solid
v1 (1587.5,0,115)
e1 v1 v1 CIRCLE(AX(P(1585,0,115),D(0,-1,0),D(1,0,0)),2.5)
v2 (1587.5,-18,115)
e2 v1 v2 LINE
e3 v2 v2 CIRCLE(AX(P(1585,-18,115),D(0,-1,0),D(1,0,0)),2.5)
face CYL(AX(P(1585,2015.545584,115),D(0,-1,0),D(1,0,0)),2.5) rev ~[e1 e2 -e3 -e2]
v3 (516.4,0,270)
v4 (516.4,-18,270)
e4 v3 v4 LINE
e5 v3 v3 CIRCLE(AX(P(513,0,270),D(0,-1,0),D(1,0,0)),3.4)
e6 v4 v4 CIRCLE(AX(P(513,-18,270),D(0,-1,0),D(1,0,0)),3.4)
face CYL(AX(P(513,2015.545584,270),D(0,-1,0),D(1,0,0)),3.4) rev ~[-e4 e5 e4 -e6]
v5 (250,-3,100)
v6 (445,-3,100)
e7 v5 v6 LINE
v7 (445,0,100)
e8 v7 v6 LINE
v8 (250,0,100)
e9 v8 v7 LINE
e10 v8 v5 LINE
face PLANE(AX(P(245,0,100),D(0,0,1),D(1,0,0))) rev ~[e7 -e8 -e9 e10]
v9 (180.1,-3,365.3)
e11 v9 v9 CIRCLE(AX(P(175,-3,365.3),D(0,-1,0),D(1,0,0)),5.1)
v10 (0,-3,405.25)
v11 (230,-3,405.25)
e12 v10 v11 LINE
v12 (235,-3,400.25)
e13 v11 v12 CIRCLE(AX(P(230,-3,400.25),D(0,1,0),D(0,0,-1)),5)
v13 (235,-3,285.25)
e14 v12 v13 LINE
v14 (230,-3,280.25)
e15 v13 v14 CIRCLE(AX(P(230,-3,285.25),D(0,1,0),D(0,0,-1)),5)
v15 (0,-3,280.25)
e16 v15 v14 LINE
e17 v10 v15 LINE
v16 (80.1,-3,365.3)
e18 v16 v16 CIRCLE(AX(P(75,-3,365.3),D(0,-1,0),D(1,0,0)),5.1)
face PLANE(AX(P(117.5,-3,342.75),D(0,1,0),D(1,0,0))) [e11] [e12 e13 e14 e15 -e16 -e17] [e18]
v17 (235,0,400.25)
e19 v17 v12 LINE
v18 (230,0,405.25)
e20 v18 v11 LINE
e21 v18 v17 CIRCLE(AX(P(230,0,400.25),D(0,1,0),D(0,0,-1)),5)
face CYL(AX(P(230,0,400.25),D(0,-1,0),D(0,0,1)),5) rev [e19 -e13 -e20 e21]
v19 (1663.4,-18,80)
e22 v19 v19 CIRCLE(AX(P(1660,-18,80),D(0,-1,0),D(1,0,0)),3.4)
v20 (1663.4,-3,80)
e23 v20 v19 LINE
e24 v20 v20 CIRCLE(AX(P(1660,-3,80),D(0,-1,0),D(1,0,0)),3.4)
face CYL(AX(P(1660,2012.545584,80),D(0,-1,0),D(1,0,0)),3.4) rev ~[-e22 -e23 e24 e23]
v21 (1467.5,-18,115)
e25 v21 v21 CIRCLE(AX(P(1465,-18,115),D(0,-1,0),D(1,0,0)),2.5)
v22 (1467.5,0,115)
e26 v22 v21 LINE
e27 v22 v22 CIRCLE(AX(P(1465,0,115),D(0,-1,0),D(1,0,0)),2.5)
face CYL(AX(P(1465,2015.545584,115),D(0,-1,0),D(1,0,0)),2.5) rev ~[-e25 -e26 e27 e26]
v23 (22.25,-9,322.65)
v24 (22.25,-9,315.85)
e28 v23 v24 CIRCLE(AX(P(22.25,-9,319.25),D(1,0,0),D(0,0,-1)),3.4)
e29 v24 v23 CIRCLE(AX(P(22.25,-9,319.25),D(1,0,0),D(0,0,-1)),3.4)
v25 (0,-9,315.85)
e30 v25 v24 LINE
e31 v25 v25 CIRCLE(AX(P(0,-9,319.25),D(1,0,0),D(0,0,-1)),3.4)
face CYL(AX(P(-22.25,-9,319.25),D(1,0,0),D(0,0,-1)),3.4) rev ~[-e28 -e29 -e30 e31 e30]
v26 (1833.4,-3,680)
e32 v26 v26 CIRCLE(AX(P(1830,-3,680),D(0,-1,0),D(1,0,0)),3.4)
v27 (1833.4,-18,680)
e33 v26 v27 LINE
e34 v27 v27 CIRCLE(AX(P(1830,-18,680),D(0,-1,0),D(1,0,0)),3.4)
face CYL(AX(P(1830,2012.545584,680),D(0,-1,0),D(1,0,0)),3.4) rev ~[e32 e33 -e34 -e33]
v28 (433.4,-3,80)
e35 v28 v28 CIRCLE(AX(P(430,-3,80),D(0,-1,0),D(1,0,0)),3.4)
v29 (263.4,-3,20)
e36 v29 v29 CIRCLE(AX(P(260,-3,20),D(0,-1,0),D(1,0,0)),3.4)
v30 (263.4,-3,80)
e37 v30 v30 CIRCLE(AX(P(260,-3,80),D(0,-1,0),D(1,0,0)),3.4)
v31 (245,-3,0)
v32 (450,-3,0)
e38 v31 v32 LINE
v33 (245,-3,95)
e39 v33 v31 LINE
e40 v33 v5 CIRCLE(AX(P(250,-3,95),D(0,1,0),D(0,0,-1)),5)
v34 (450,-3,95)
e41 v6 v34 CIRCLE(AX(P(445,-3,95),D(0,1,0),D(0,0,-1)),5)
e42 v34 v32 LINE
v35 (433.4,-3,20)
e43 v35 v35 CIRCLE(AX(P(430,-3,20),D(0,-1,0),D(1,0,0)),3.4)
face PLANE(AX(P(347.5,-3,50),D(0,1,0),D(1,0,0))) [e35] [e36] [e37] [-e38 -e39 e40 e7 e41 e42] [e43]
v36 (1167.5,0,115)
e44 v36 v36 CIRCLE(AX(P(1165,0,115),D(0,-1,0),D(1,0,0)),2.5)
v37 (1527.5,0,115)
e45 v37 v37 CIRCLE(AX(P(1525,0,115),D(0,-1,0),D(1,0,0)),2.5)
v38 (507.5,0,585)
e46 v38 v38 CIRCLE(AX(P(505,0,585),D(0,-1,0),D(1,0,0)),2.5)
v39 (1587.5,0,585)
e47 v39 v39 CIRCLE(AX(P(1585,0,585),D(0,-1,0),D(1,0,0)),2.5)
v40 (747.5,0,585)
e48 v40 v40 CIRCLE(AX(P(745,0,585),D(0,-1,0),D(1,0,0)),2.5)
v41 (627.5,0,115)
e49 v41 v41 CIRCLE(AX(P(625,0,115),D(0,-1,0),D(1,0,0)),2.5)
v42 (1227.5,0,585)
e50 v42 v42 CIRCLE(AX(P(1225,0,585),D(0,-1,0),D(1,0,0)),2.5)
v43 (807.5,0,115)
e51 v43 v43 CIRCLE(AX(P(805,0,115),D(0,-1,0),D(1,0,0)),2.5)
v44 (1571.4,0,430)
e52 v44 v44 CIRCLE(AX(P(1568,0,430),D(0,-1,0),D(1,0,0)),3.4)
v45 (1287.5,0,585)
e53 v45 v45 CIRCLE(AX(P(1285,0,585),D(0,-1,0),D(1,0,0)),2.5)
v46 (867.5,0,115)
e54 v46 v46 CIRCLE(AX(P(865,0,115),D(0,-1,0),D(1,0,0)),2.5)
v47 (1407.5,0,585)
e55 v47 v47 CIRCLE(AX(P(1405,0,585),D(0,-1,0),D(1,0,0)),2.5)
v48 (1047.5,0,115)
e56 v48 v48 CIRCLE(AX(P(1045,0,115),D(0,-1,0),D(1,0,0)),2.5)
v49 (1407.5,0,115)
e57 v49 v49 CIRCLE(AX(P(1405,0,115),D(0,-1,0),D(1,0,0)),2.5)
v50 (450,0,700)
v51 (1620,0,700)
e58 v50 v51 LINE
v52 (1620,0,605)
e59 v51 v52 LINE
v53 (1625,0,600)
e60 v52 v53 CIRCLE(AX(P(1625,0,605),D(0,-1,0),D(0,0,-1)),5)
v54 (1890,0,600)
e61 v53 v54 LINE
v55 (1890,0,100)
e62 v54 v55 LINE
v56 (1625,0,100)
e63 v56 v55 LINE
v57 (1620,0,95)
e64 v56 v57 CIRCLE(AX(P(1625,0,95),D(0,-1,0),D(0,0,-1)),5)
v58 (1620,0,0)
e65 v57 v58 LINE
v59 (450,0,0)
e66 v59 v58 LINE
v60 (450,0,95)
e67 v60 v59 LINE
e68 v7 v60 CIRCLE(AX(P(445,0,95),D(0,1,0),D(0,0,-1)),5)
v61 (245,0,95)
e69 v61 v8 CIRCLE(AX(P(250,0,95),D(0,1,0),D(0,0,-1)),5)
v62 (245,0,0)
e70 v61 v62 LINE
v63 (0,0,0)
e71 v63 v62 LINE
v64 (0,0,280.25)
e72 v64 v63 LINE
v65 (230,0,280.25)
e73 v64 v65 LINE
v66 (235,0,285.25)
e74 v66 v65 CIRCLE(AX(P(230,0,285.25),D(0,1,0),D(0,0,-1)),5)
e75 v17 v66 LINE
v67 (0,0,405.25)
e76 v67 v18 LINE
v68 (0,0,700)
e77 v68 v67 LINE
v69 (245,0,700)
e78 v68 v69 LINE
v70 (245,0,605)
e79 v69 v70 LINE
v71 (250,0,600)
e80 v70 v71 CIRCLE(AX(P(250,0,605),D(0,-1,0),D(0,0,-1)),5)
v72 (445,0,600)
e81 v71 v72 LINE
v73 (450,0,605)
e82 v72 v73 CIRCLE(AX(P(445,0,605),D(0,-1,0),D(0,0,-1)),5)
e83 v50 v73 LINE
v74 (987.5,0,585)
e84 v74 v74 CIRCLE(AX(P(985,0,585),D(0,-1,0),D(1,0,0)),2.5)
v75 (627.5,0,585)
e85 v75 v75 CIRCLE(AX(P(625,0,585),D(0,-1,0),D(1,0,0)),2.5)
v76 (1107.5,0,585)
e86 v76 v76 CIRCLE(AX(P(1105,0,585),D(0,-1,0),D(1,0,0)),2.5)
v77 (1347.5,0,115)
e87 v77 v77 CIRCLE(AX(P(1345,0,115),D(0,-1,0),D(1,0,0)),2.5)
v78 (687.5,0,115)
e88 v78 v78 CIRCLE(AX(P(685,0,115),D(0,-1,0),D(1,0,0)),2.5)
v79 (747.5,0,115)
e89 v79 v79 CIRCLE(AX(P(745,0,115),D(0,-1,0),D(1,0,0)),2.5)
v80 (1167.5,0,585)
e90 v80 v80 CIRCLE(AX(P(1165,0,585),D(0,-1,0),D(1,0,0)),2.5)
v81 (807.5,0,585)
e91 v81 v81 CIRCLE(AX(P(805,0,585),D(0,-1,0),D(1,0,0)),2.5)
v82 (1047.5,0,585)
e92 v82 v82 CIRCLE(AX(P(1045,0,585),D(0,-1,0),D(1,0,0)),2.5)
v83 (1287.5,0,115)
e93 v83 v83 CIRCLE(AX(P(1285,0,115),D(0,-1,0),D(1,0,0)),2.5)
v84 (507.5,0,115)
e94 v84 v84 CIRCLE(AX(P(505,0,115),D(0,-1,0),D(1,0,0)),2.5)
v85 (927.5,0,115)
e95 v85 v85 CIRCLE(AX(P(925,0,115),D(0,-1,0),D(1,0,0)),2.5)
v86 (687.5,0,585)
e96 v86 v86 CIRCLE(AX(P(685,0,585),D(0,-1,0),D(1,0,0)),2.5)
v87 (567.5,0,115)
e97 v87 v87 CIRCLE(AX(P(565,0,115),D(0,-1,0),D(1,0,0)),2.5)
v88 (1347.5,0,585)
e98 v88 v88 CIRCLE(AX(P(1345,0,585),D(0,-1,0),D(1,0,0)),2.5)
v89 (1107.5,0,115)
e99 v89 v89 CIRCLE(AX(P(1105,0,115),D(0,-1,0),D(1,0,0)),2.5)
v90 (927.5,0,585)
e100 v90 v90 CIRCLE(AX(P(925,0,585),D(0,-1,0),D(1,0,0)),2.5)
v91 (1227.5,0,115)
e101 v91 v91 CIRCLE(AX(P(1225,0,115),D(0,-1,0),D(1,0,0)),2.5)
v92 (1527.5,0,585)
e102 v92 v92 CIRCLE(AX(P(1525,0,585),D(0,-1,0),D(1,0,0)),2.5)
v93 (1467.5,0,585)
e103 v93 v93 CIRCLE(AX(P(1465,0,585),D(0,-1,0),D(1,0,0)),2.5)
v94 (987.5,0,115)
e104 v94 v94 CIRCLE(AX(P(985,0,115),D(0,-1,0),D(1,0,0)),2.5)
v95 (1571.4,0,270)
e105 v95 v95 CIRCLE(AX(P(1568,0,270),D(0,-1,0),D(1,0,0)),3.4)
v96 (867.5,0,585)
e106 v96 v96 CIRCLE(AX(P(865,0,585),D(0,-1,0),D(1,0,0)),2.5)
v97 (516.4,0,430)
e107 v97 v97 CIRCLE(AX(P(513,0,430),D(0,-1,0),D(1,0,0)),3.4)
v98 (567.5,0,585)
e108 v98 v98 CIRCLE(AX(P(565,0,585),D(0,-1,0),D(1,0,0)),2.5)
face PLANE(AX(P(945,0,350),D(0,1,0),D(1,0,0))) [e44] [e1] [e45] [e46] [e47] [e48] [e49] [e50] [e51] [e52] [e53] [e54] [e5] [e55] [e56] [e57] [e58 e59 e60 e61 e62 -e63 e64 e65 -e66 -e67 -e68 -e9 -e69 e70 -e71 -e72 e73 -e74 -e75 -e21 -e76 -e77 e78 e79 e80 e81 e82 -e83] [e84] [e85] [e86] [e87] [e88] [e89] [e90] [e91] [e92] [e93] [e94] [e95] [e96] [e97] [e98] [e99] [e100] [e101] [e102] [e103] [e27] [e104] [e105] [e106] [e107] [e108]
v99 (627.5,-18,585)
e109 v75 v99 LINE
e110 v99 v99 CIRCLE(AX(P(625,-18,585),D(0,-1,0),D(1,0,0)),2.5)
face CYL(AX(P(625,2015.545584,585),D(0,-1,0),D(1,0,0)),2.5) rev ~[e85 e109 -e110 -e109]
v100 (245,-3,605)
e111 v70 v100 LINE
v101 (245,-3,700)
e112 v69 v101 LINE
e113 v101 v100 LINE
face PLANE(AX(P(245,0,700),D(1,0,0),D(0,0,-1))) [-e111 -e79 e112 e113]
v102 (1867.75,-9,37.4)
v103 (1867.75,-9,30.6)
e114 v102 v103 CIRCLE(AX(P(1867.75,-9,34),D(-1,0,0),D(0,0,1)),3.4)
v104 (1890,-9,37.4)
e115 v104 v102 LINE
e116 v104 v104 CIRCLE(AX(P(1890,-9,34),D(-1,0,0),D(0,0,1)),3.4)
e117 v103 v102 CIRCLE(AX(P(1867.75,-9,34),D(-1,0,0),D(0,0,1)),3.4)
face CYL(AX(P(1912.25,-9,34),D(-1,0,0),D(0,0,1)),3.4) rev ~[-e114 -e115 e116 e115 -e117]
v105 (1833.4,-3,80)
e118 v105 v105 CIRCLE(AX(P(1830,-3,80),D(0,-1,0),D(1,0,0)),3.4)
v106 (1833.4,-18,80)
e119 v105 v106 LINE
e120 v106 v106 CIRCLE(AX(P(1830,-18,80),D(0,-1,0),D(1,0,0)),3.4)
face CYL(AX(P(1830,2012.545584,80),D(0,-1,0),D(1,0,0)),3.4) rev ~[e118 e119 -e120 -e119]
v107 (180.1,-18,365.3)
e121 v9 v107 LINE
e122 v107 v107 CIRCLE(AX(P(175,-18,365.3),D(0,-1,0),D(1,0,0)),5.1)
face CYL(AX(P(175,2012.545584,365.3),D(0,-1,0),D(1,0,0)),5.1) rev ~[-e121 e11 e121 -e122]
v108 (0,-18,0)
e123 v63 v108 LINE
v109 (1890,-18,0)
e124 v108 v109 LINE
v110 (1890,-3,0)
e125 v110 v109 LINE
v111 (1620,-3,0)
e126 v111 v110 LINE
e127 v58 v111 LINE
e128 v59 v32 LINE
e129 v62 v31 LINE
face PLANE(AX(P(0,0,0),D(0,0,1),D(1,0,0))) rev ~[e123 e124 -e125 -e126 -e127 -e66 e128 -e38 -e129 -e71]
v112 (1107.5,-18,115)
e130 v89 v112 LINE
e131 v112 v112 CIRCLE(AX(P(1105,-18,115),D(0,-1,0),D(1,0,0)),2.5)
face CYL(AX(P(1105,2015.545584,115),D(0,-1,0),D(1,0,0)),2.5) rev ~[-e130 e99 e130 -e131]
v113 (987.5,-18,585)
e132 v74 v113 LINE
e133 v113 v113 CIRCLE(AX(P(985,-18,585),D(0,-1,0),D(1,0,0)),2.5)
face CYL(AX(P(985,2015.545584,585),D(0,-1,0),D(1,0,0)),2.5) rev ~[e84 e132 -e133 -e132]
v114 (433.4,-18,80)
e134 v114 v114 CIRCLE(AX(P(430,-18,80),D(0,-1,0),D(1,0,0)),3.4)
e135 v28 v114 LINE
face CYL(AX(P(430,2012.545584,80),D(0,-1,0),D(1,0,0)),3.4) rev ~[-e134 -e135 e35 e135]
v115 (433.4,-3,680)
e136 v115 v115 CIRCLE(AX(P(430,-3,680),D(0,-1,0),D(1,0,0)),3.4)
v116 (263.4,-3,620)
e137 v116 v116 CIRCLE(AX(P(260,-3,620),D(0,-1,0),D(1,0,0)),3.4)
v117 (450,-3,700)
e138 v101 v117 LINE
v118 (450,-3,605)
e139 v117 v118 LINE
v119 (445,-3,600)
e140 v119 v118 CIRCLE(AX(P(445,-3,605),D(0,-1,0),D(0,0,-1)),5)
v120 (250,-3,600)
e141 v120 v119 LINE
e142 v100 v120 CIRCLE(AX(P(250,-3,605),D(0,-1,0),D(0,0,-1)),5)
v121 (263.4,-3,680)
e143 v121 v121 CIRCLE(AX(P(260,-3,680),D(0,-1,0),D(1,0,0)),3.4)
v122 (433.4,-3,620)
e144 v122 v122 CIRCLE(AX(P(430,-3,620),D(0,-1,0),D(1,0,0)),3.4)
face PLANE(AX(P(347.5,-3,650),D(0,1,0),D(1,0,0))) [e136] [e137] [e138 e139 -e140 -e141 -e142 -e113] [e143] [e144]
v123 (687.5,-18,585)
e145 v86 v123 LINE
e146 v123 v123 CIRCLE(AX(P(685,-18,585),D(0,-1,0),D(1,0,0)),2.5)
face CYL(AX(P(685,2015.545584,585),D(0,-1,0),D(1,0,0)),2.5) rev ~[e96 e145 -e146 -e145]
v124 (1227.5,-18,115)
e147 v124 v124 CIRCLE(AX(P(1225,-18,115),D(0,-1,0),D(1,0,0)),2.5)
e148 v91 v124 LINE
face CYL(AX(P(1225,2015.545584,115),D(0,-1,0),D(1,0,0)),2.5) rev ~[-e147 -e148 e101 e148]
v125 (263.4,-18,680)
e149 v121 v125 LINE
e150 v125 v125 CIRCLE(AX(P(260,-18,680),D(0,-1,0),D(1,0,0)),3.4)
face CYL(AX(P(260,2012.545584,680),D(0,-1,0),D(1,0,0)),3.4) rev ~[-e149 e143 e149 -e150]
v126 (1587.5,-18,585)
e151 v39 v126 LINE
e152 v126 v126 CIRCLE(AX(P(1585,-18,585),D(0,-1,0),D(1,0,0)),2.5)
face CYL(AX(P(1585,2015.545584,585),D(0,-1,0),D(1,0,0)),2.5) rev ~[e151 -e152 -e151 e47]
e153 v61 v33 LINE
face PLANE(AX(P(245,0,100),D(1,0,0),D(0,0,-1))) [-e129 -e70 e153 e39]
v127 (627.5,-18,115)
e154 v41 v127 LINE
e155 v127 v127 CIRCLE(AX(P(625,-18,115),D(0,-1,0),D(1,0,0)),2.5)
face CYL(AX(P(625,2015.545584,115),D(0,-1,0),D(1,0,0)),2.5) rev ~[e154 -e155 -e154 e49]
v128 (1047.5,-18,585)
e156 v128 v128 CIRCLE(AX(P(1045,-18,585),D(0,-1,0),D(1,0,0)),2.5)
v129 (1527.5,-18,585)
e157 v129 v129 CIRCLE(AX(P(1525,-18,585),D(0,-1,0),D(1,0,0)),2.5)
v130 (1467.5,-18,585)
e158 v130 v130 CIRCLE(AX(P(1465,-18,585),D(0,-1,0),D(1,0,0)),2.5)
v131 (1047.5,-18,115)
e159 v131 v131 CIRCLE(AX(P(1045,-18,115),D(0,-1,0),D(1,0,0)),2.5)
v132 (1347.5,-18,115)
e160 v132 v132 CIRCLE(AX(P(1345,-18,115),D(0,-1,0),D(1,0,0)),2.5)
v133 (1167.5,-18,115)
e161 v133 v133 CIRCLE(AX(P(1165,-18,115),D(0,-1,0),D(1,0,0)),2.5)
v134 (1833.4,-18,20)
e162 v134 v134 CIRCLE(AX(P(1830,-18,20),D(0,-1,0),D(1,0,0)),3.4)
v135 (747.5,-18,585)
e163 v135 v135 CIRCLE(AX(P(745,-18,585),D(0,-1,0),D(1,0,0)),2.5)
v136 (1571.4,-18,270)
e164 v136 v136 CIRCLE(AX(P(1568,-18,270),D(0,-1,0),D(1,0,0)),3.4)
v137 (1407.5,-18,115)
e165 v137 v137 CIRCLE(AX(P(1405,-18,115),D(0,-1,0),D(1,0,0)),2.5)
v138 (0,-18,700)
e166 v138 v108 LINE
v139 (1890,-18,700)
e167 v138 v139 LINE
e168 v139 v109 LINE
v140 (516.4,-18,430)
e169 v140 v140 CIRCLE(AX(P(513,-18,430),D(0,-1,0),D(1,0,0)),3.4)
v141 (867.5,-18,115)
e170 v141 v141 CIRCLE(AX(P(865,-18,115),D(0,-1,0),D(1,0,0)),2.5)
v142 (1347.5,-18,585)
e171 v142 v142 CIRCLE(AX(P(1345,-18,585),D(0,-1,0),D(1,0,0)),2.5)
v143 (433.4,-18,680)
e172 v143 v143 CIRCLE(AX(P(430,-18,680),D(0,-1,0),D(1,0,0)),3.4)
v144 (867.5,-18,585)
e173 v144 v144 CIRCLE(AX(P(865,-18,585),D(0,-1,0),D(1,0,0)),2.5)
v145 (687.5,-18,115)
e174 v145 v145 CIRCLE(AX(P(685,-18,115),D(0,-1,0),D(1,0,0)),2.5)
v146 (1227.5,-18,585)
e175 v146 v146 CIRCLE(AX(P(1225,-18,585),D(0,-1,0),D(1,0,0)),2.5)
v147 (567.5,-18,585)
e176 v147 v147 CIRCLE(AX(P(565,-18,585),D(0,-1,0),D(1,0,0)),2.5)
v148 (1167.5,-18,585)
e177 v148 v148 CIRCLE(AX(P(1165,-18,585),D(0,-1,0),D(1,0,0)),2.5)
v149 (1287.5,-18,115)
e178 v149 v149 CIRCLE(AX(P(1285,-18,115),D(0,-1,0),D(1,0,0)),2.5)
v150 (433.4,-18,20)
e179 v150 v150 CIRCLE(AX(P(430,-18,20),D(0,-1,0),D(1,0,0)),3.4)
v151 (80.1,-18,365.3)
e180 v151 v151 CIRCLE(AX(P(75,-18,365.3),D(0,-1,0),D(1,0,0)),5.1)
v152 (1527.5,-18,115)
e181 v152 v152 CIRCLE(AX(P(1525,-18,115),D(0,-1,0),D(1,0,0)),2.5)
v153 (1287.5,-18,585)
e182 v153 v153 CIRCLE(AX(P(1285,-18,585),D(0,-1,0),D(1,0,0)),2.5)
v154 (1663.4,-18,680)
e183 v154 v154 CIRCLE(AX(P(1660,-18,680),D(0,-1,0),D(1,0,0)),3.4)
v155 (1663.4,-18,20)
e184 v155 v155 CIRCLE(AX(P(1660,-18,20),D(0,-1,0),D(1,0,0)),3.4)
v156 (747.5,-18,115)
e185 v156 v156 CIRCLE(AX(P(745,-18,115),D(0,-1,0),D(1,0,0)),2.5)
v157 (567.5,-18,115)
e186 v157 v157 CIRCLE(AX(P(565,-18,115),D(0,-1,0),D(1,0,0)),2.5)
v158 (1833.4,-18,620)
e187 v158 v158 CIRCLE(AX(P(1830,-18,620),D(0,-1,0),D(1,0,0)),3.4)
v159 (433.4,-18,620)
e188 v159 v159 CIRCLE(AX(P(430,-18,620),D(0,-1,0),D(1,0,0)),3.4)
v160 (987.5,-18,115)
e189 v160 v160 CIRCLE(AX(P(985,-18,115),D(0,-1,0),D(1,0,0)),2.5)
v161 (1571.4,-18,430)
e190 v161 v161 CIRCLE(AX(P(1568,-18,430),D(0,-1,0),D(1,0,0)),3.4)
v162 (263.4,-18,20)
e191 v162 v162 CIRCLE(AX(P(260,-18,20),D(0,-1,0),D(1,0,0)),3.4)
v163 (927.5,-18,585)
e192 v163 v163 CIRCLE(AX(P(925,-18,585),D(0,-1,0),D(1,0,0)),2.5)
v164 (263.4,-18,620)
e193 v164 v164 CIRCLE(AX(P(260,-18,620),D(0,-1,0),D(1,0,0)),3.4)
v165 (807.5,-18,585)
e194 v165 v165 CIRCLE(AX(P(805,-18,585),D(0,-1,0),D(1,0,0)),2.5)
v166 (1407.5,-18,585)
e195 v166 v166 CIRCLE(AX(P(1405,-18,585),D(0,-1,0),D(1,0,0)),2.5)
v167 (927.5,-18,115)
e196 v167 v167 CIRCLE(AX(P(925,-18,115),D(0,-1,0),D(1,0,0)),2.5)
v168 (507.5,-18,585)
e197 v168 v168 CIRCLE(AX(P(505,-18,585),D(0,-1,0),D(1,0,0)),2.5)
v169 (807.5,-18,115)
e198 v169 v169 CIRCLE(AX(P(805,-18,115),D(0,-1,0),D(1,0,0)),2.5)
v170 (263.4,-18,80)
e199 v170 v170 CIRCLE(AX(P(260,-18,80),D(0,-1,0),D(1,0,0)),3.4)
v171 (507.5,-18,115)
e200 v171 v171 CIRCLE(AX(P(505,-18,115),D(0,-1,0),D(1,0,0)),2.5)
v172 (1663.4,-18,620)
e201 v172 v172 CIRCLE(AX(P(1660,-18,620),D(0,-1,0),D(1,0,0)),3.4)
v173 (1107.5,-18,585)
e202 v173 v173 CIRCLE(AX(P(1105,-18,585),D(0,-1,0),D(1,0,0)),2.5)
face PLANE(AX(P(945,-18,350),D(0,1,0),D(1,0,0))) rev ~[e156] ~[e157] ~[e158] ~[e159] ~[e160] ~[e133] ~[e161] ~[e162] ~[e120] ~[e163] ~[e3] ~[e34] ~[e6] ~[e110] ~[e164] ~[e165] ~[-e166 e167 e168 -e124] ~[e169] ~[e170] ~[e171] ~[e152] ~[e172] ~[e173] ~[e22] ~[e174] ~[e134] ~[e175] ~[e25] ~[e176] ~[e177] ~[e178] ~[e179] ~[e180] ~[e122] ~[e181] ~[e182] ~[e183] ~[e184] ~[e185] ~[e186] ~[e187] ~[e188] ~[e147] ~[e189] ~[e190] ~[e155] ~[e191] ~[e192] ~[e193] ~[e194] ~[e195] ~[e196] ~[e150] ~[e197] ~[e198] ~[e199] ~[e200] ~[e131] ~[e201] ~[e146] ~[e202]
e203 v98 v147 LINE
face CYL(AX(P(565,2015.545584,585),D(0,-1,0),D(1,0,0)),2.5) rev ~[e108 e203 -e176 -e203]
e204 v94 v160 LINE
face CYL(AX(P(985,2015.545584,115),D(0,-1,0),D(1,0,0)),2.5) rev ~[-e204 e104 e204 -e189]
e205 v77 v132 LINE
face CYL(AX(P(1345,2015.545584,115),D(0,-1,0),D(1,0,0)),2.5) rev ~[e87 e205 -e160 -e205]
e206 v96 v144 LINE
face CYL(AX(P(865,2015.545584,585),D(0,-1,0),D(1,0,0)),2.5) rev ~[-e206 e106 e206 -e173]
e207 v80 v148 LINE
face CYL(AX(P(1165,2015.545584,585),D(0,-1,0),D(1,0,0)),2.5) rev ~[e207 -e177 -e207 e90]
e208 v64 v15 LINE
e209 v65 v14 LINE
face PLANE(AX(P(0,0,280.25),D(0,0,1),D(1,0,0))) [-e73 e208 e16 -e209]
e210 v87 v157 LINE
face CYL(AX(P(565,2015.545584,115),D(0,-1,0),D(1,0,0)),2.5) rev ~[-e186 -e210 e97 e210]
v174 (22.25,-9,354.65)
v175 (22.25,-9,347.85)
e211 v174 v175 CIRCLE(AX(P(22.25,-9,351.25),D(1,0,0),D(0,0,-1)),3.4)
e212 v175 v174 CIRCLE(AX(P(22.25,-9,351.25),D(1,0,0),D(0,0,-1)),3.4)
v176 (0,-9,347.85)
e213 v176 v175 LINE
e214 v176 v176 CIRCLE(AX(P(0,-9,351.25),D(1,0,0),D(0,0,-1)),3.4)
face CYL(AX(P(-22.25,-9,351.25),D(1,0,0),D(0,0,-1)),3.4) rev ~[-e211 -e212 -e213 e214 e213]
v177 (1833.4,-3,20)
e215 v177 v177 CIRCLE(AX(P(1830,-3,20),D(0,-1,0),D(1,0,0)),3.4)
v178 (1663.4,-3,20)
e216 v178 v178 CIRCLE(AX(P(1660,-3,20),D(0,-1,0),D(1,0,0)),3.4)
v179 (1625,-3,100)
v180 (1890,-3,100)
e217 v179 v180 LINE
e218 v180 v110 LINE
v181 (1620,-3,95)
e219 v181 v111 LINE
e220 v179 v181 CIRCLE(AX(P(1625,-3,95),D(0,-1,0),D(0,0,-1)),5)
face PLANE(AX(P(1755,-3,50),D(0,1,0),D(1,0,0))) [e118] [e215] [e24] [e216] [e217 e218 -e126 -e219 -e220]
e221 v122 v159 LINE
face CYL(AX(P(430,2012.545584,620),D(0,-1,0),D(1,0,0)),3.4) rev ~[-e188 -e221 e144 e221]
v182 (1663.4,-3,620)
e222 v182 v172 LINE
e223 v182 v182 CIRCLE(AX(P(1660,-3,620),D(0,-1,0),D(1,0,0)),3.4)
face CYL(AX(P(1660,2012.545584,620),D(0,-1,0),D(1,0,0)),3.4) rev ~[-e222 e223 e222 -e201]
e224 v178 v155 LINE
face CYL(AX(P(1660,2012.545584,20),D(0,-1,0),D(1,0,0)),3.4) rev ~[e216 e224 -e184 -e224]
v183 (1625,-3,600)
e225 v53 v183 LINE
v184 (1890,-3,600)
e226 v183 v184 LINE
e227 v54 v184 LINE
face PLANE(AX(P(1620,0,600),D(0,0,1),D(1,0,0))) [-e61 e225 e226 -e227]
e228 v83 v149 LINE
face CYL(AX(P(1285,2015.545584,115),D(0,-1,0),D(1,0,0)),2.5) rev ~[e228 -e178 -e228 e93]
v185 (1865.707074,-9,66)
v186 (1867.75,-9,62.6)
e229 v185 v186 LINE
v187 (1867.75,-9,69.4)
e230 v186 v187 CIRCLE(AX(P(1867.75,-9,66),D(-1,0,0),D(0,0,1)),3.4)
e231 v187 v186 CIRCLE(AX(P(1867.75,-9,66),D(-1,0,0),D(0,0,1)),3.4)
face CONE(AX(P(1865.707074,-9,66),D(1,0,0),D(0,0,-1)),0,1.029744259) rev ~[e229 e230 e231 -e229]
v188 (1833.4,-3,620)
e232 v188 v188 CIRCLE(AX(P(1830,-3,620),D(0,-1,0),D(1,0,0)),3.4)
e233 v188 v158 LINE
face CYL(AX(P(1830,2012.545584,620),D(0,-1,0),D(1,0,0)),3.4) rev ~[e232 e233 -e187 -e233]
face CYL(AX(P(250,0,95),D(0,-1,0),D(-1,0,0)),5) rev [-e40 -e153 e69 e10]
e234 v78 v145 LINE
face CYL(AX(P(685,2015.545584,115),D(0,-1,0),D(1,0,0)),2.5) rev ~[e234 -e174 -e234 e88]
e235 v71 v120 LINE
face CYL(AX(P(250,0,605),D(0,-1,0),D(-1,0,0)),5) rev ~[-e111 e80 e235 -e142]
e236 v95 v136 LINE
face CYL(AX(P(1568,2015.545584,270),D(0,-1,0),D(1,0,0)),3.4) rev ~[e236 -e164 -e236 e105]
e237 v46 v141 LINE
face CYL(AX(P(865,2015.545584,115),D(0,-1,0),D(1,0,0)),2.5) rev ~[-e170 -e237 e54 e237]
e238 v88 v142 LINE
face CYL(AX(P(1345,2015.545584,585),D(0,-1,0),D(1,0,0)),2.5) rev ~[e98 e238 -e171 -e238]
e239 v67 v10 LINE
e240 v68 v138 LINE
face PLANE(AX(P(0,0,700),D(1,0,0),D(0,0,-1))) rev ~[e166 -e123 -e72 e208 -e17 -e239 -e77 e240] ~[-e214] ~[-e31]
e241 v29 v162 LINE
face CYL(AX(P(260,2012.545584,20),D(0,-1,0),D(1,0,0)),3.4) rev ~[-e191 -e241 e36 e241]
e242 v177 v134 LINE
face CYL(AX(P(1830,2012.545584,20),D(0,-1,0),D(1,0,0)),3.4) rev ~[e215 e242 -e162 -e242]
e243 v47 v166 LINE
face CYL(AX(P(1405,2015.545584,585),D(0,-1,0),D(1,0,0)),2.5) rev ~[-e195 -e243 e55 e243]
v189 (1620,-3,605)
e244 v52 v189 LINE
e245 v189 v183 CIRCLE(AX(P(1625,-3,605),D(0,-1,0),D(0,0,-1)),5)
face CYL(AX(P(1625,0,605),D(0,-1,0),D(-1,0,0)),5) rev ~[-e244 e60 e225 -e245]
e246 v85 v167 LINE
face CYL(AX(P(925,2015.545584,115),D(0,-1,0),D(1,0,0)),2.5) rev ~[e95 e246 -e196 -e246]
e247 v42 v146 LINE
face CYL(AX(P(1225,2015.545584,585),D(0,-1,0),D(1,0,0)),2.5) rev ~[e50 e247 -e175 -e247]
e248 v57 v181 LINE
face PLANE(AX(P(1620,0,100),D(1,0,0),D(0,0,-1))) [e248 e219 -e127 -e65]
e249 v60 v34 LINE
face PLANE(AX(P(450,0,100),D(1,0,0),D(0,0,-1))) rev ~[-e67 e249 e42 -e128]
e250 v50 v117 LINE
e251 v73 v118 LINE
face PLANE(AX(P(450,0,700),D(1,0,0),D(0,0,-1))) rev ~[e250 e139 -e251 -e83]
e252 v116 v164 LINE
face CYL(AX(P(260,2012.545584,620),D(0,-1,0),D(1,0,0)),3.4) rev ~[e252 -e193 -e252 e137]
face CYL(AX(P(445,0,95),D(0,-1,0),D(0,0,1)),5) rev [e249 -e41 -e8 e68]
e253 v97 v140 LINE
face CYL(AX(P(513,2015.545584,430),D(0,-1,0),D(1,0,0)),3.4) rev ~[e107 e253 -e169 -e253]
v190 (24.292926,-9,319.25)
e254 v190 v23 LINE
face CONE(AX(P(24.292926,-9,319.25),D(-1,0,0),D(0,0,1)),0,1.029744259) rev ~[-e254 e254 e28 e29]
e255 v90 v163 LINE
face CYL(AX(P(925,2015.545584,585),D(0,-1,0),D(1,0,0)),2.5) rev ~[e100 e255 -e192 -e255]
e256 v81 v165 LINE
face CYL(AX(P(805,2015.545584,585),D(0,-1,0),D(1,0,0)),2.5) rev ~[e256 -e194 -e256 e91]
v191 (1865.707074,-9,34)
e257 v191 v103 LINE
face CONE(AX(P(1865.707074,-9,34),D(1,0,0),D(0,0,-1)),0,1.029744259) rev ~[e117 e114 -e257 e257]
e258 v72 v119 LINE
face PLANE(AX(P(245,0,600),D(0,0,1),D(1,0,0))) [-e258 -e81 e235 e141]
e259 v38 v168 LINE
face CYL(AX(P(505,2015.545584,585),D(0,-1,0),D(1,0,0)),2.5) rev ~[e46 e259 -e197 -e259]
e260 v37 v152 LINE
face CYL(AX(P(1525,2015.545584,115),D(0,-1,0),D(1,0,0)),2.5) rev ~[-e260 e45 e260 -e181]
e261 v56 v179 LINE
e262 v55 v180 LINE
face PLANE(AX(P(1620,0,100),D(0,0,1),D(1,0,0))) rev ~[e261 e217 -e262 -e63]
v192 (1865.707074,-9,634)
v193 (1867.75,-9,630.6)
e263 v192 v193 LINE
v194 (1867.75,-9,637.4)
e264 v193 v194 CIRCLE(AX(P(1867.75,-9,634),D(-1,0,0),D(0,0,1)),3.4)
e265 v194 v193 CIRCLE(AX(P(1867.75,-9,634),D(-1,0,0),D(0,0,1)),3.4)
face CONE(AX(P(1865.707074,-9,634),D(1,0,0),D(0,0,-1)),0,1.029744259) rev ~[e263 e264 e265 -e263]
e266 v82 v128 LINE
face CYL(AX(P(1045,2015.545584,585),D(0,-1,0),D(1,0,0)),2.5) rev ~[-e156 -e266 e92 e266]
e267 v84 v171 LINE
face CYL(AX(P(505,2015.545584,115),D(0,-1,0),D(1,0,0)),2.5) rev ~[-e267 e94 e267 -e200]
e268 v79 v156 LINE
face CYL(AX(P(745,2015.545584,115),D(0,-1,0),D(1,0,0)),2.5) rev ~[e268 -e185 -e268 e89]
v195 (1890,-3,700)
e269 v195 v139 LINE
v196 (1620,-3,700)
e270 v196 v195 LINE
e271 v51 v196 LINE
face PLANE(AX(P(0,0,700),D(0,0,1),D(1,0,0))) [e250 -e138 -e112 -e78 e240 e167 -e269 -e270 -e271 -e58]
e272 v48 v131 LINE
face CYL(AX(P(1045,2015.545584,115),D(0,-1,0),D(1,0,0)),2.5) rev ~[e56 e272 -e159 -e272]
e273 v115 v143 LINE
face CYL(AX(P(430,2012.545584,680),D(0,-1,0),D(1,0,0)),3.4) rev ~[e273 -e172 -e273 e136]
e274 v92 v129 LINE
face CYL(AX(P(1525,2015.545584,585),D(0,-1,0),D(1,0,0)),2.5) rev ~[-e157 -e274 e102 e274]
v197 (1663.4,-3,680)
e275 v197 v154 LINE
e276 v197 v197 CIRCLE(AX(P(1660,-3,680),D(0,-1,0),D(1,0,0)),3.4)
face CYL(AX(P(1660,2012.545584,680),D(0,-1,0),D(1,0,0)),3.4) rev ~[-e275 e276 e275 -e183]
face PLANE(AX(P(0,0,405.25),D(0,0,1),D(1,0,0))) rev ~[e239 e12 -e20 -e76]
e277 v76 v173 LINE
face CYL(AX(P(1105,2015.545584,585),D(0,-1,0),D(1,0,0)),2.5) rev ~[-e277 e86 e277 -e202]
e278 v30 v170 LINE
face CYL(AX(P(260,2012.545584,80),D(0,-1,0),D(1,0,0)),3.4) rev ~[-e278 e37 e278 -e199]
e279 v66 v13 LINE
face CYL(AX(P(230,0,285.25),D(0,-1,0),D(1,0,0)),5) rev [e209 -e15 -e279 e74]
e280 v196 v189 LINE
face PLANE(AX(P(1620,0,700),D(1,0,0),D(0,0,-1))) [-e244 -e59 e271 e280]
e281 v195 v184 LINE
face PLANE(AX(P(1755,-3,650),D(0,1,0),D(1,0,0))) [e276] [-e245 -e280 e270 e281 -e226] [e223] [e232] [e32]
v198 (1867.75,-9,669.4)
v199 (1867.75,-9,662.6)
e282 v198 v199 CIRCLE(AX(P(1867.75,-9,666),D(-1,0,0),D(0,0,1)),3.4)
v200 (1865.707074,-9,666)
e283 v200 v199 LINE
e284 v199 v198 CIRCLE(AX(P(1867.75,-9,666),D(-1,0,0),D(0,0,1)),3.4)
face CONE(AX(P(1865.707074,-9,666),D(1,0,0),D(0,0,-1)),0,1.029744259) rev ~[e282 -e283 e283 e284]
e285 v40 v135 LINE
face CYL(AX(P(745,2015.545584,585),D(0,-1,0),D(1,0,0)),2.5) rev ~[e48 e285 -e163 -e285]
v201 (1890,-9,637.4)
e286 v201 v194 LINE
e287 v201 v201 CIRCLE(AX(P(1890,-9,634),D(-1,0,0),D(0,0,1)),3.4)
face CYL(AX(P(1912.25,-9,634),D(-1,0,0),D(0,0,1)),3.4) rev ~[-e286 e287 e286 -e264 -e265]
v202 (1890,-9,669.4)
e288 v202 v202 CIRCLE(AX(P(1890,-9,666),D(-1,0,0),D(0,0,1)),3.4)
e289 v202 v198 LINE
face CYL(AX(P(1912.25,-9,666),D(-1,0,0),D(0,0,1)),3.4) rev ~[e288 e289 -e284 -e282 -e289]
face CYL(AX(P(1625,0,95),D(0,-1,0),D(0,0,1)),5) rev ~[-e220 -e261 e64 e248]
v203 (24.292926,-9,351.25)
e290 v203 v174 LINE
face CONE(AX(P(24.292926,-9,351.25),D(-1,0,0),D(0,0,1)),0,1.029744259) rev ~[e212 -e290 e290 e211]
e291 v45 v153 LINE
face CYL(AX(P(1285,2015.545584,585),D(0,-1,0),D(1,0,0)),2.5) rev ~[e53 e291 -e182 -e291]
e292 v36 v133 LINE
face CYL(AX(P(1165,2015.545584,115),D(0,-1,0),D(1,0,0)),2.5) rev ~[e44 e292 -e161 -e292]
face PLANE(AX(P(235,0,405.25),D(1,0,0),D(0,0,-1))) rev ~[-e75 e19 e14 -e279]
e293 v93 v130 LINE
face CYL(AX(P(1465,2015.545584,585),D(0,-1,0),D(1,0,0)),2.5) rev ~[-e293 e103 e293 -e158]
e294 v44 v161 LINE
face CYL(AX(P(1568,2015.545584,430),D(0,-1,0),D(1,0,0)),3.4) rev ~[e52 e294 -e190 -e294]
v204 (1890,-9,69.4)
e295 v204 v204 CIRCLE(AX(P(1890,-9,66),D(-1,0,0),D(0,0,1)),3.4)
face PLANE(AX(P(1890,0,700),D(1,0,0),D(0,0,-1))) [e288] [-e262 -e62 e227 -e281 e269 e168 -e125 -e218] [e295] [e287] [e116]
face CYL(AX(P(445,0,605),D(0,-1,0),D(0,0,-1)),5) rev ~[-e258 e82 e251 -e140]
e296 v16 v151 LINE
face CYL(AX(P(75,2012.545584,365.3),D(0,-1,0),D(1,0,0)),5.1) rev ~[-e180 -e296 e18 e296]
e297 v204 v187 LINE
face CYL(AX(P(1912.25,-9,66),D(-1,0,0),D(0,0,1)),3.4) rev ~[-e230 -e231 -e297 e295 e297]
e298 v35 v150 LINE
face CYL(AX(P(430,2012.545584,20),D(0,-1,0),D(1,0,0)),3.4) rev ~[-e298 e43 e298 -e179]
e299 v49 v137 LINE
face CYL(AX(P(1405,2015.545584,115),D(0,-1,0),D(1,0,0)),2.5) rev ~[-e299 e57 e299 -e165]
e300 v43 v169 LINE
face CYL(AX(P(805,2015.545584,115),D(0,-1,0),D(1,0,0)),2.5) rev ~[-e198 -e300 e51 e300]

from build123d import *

# Parameters (mm, degrees)
SKETCH4_W                  = 1890
SKETCH4_H                  = 700
BOSS_EXTRUDE2_DEPTH        = 18
SKETCH5_W                  = 205
SKETCH5_H                  = 100
SKETCH5_W_2                = 270
CUT_EXTRUDE1_DEPTH         = 3
SKETCH22_W                 = 235
SKETCH22_H                 = 125
CUT_EXTRUDE2_DEPTH         = 3
M12X1_75_TAPPED_HOLE1_D    = 10.2
M8X1_25_TAPPED_HOLE1_D     = 6.8
LPATTERN1_COUNT            = 2
LPATTERN1_PITCH            = 1400
LPATTERN1_COUNT_DIR2       = 2
LPATTERN1_PITCH_DIR2       = 600
M8X1_25_TAPPED_HOLE2_D     = 6.8
M6X1_0_TAPPED_HOLE3_D      = 5
LPATTERN3_COUNT            = 19
LPATTERN3_PITCH            = 60
M8X1_25_TAPPED_HOLE3_D     = 6.8
M8X1_25_TAPPED_HOLE3_DEPTH = 22.25
M8X1_25_TAPPED_HOLE3_TIP   = 2.042926105
M8X1_25_TAPPED_HOLE4_D     = 6.8
M8X1_25_TAPPED_HOLE4_DEPTH = 22.25
M8X1_25_TAPPED_HOLE4_TIP   = 2.042926105
FILLET1_R                  = 5
FILLET2_R                  = 5


with BuildPart() as part:
    # Sketch4 → Boss-Extrude2 (new body)
    with BuildSketch(Plane(origin=(0, 0, 0), x_dir=(1, 0, 0), z_dir=(0, 1, 0))):
        with Locations((945, -350)):
            Rectangle(SKETCH4_W, SKETCH4_H)
    extrude(amount=-BOSS_EXTRUDE2_DEPTH)

    # Sketch5 → Cut-Extrude1 (cut)
    with BuildSketch(Plane(origin=(0, 0, 0), x_dir=(1, 0, 0), z_dir=(0, 1, 0))):
        with Locations((347.5, -650)):
            Rectangle(SKETCH5_W, SKETCH5_H)
        with Locations((1755, -650)):
            Rectangle(SKETCH5_W_2, SKETCH5_H)
        with Locations((1755, -50)):
            Rectangle(SKETCH5_W_2, SKETCH5_H)
        with Locations((347.5, -50)):
            Rectangle(SKETCH5_W, SKETCH5_H)
    extrude(amount=-CUT_EXTRUDE1_DEPTH, mode=Mode.SUBTRACT)

    # Sketch22 → Cut-Extrude2 (cut)
    with BuildSketch(Plane(origin=(0, 0, 0), x_dir=(1, 0, 0), z_dir=(0, 1, 0))):
        with Locations((117.5, -342.75)):
            Rectangle(SKETCH22_W, SKETCH22_H)
    extrude(amount=-CUT_EXTRUDE2_DEPTH, mode=Mode.SUBTRACT)

    # M12x1.75 Tapped Hole1 (through all)
    with Locations(Plane(origin=(-24.038411421, -3, -27.656523822), x_dir=(-1, 0, 0), z_dir=(0, 1, 0))):
        with Locations((-99.038411421, 392.956523822), (-199.038411421, 392.956523822)):
            Hole(M12X1_75_TAPPED_HOLE1_D / 2)

    # M8x1.25 Tapped Hole1 (through all)
    with Locations(Plane(origin=(0, -3, 0), x_dir=(-1, 0, 0), z_dir=(0, 1, 0))):
        with Locations((-260, 80), (-260, 20), (-430, 20), (-430, 80)):
            m8x1_25_tapped_hole1 = Hole(M8X1_25_TAPPED_HOLE1_D / 2)

    # LPattern1: M8x1.25 Tapped Hole1 2 × 2
    with Locations(*[(i * LPATTERN1_PITCH, 0, j * LPATTERN1_PITCH_DIR2) for i in range(LPATTERN1_COUNT) for j in range(LPATTERN1_COUNT_DIR2) if (i, j) != (0, 0)]):
        add(m8x1_25_tapped_hole1, mode=Mode.SUBTRACT)

    # M8x1.25 Tapped Hole2 (through all)
    with Locations(Plane(origin=(0, 0, 0), x_dir=(-1, 0, 0), z_dir=(0, 1, 0))):
        with Locations((-513, 270), (-513, 430), (-1568, 270), (-1568, 430)):
            Hole(M8X1_25_TAPPED_HOLE2_D / 2)

    # M6x1.0 Tapped Hole3 (through all)
    with Locations(Plane(origin=(0, 0, 0), x_dir=(-1, 0, 0), z_dir=(0, 1, 0))):
        with Locations((-505, 115), (-505, 585)):
            m6x1_0_tapped_hole3 = Hole(M6X1_0_TAPPED_HOLE3_D / 2)

    # LPattern3: M6x1.0 Tapped Hole3 ×19
    with Locations(*[(i * LPATTERN3_PITCH, 0, 0) for i in range(1, LPATTERN3_COUNT)]):
        add(m6x1_0_tapped_hole3, mode=Mode.SUBTRACT)

    # M8x1.25 Tapped Hole3
    with Locations(Plane(origin=(1890, 0, 0), x_dir=(0, 0, -1), z_dir=(1, 0, 0))):
        with Locations((-66, -9), (-666, -9), (-634, -9), (-34, -9)):
            Hole(M8X1_25_TAPPED_HOLE3_D / 2, depth=M8X1_25_TAPPED_HOLE3_DEPTH)
            with Locations((0, 0, -(M8X1_25_TAPPED_HOLE3_DEPTH + M8X1_25_TAPPED_HOLE3_TIP / 2))):  # 118° drill point
                Cone(0, M8X1_25_TAPPED_HOLE3_D / 2, M8X1_25_TAPPED_HOLE3_TIP, mode=Mode.SUBTRACT)

    # M8x1.25 Tapped Hole4
    with Locations(Plane.ZY):
        with Locations((319.25, -9), (351.25, -9)):
            Hole(M8X1_25_TAPPED_HOLE4_D / 2, depth=M8X1_25_TAPPED_HOLE4_DEPTH)
            with Locations((0, 0, -(M8X1_25_TAPPED_HOLE4_DEPTH + M8X1_25_TAPPED_HOLE4_TIP / 2))):  # 118° drill point
                Cone(0, M8X1_25_TAPPED_HOLE4_D / 2, M8X1_25_TAPPED_HOLE4_TIP, mode=Mode.SUBTRACT)

    # Fillet1
    fillet1_edges = [part.edges().sort_by_distance(p)[0] for p in [
        (245, -1.5, 600),
        (450, -1.5, 600),
        (1620, -1.5, 600),
        (1620, -1.5, 100),
        (245, -1.5, 100),
        (450, -1.5, 100),
    ]]
    fillet(fillet1_edges, radius=FILLET1_R)

    # Fillet2
    fillet2_edges = [part.edges().sort_by_distance(p)[0] for p in [
        (235, -1.5, 280.25),
        (235, -1.5, 405.25),
    ]]
    fillet(fillet2_edges, radius=FILLET2_R)


solid = part.part
